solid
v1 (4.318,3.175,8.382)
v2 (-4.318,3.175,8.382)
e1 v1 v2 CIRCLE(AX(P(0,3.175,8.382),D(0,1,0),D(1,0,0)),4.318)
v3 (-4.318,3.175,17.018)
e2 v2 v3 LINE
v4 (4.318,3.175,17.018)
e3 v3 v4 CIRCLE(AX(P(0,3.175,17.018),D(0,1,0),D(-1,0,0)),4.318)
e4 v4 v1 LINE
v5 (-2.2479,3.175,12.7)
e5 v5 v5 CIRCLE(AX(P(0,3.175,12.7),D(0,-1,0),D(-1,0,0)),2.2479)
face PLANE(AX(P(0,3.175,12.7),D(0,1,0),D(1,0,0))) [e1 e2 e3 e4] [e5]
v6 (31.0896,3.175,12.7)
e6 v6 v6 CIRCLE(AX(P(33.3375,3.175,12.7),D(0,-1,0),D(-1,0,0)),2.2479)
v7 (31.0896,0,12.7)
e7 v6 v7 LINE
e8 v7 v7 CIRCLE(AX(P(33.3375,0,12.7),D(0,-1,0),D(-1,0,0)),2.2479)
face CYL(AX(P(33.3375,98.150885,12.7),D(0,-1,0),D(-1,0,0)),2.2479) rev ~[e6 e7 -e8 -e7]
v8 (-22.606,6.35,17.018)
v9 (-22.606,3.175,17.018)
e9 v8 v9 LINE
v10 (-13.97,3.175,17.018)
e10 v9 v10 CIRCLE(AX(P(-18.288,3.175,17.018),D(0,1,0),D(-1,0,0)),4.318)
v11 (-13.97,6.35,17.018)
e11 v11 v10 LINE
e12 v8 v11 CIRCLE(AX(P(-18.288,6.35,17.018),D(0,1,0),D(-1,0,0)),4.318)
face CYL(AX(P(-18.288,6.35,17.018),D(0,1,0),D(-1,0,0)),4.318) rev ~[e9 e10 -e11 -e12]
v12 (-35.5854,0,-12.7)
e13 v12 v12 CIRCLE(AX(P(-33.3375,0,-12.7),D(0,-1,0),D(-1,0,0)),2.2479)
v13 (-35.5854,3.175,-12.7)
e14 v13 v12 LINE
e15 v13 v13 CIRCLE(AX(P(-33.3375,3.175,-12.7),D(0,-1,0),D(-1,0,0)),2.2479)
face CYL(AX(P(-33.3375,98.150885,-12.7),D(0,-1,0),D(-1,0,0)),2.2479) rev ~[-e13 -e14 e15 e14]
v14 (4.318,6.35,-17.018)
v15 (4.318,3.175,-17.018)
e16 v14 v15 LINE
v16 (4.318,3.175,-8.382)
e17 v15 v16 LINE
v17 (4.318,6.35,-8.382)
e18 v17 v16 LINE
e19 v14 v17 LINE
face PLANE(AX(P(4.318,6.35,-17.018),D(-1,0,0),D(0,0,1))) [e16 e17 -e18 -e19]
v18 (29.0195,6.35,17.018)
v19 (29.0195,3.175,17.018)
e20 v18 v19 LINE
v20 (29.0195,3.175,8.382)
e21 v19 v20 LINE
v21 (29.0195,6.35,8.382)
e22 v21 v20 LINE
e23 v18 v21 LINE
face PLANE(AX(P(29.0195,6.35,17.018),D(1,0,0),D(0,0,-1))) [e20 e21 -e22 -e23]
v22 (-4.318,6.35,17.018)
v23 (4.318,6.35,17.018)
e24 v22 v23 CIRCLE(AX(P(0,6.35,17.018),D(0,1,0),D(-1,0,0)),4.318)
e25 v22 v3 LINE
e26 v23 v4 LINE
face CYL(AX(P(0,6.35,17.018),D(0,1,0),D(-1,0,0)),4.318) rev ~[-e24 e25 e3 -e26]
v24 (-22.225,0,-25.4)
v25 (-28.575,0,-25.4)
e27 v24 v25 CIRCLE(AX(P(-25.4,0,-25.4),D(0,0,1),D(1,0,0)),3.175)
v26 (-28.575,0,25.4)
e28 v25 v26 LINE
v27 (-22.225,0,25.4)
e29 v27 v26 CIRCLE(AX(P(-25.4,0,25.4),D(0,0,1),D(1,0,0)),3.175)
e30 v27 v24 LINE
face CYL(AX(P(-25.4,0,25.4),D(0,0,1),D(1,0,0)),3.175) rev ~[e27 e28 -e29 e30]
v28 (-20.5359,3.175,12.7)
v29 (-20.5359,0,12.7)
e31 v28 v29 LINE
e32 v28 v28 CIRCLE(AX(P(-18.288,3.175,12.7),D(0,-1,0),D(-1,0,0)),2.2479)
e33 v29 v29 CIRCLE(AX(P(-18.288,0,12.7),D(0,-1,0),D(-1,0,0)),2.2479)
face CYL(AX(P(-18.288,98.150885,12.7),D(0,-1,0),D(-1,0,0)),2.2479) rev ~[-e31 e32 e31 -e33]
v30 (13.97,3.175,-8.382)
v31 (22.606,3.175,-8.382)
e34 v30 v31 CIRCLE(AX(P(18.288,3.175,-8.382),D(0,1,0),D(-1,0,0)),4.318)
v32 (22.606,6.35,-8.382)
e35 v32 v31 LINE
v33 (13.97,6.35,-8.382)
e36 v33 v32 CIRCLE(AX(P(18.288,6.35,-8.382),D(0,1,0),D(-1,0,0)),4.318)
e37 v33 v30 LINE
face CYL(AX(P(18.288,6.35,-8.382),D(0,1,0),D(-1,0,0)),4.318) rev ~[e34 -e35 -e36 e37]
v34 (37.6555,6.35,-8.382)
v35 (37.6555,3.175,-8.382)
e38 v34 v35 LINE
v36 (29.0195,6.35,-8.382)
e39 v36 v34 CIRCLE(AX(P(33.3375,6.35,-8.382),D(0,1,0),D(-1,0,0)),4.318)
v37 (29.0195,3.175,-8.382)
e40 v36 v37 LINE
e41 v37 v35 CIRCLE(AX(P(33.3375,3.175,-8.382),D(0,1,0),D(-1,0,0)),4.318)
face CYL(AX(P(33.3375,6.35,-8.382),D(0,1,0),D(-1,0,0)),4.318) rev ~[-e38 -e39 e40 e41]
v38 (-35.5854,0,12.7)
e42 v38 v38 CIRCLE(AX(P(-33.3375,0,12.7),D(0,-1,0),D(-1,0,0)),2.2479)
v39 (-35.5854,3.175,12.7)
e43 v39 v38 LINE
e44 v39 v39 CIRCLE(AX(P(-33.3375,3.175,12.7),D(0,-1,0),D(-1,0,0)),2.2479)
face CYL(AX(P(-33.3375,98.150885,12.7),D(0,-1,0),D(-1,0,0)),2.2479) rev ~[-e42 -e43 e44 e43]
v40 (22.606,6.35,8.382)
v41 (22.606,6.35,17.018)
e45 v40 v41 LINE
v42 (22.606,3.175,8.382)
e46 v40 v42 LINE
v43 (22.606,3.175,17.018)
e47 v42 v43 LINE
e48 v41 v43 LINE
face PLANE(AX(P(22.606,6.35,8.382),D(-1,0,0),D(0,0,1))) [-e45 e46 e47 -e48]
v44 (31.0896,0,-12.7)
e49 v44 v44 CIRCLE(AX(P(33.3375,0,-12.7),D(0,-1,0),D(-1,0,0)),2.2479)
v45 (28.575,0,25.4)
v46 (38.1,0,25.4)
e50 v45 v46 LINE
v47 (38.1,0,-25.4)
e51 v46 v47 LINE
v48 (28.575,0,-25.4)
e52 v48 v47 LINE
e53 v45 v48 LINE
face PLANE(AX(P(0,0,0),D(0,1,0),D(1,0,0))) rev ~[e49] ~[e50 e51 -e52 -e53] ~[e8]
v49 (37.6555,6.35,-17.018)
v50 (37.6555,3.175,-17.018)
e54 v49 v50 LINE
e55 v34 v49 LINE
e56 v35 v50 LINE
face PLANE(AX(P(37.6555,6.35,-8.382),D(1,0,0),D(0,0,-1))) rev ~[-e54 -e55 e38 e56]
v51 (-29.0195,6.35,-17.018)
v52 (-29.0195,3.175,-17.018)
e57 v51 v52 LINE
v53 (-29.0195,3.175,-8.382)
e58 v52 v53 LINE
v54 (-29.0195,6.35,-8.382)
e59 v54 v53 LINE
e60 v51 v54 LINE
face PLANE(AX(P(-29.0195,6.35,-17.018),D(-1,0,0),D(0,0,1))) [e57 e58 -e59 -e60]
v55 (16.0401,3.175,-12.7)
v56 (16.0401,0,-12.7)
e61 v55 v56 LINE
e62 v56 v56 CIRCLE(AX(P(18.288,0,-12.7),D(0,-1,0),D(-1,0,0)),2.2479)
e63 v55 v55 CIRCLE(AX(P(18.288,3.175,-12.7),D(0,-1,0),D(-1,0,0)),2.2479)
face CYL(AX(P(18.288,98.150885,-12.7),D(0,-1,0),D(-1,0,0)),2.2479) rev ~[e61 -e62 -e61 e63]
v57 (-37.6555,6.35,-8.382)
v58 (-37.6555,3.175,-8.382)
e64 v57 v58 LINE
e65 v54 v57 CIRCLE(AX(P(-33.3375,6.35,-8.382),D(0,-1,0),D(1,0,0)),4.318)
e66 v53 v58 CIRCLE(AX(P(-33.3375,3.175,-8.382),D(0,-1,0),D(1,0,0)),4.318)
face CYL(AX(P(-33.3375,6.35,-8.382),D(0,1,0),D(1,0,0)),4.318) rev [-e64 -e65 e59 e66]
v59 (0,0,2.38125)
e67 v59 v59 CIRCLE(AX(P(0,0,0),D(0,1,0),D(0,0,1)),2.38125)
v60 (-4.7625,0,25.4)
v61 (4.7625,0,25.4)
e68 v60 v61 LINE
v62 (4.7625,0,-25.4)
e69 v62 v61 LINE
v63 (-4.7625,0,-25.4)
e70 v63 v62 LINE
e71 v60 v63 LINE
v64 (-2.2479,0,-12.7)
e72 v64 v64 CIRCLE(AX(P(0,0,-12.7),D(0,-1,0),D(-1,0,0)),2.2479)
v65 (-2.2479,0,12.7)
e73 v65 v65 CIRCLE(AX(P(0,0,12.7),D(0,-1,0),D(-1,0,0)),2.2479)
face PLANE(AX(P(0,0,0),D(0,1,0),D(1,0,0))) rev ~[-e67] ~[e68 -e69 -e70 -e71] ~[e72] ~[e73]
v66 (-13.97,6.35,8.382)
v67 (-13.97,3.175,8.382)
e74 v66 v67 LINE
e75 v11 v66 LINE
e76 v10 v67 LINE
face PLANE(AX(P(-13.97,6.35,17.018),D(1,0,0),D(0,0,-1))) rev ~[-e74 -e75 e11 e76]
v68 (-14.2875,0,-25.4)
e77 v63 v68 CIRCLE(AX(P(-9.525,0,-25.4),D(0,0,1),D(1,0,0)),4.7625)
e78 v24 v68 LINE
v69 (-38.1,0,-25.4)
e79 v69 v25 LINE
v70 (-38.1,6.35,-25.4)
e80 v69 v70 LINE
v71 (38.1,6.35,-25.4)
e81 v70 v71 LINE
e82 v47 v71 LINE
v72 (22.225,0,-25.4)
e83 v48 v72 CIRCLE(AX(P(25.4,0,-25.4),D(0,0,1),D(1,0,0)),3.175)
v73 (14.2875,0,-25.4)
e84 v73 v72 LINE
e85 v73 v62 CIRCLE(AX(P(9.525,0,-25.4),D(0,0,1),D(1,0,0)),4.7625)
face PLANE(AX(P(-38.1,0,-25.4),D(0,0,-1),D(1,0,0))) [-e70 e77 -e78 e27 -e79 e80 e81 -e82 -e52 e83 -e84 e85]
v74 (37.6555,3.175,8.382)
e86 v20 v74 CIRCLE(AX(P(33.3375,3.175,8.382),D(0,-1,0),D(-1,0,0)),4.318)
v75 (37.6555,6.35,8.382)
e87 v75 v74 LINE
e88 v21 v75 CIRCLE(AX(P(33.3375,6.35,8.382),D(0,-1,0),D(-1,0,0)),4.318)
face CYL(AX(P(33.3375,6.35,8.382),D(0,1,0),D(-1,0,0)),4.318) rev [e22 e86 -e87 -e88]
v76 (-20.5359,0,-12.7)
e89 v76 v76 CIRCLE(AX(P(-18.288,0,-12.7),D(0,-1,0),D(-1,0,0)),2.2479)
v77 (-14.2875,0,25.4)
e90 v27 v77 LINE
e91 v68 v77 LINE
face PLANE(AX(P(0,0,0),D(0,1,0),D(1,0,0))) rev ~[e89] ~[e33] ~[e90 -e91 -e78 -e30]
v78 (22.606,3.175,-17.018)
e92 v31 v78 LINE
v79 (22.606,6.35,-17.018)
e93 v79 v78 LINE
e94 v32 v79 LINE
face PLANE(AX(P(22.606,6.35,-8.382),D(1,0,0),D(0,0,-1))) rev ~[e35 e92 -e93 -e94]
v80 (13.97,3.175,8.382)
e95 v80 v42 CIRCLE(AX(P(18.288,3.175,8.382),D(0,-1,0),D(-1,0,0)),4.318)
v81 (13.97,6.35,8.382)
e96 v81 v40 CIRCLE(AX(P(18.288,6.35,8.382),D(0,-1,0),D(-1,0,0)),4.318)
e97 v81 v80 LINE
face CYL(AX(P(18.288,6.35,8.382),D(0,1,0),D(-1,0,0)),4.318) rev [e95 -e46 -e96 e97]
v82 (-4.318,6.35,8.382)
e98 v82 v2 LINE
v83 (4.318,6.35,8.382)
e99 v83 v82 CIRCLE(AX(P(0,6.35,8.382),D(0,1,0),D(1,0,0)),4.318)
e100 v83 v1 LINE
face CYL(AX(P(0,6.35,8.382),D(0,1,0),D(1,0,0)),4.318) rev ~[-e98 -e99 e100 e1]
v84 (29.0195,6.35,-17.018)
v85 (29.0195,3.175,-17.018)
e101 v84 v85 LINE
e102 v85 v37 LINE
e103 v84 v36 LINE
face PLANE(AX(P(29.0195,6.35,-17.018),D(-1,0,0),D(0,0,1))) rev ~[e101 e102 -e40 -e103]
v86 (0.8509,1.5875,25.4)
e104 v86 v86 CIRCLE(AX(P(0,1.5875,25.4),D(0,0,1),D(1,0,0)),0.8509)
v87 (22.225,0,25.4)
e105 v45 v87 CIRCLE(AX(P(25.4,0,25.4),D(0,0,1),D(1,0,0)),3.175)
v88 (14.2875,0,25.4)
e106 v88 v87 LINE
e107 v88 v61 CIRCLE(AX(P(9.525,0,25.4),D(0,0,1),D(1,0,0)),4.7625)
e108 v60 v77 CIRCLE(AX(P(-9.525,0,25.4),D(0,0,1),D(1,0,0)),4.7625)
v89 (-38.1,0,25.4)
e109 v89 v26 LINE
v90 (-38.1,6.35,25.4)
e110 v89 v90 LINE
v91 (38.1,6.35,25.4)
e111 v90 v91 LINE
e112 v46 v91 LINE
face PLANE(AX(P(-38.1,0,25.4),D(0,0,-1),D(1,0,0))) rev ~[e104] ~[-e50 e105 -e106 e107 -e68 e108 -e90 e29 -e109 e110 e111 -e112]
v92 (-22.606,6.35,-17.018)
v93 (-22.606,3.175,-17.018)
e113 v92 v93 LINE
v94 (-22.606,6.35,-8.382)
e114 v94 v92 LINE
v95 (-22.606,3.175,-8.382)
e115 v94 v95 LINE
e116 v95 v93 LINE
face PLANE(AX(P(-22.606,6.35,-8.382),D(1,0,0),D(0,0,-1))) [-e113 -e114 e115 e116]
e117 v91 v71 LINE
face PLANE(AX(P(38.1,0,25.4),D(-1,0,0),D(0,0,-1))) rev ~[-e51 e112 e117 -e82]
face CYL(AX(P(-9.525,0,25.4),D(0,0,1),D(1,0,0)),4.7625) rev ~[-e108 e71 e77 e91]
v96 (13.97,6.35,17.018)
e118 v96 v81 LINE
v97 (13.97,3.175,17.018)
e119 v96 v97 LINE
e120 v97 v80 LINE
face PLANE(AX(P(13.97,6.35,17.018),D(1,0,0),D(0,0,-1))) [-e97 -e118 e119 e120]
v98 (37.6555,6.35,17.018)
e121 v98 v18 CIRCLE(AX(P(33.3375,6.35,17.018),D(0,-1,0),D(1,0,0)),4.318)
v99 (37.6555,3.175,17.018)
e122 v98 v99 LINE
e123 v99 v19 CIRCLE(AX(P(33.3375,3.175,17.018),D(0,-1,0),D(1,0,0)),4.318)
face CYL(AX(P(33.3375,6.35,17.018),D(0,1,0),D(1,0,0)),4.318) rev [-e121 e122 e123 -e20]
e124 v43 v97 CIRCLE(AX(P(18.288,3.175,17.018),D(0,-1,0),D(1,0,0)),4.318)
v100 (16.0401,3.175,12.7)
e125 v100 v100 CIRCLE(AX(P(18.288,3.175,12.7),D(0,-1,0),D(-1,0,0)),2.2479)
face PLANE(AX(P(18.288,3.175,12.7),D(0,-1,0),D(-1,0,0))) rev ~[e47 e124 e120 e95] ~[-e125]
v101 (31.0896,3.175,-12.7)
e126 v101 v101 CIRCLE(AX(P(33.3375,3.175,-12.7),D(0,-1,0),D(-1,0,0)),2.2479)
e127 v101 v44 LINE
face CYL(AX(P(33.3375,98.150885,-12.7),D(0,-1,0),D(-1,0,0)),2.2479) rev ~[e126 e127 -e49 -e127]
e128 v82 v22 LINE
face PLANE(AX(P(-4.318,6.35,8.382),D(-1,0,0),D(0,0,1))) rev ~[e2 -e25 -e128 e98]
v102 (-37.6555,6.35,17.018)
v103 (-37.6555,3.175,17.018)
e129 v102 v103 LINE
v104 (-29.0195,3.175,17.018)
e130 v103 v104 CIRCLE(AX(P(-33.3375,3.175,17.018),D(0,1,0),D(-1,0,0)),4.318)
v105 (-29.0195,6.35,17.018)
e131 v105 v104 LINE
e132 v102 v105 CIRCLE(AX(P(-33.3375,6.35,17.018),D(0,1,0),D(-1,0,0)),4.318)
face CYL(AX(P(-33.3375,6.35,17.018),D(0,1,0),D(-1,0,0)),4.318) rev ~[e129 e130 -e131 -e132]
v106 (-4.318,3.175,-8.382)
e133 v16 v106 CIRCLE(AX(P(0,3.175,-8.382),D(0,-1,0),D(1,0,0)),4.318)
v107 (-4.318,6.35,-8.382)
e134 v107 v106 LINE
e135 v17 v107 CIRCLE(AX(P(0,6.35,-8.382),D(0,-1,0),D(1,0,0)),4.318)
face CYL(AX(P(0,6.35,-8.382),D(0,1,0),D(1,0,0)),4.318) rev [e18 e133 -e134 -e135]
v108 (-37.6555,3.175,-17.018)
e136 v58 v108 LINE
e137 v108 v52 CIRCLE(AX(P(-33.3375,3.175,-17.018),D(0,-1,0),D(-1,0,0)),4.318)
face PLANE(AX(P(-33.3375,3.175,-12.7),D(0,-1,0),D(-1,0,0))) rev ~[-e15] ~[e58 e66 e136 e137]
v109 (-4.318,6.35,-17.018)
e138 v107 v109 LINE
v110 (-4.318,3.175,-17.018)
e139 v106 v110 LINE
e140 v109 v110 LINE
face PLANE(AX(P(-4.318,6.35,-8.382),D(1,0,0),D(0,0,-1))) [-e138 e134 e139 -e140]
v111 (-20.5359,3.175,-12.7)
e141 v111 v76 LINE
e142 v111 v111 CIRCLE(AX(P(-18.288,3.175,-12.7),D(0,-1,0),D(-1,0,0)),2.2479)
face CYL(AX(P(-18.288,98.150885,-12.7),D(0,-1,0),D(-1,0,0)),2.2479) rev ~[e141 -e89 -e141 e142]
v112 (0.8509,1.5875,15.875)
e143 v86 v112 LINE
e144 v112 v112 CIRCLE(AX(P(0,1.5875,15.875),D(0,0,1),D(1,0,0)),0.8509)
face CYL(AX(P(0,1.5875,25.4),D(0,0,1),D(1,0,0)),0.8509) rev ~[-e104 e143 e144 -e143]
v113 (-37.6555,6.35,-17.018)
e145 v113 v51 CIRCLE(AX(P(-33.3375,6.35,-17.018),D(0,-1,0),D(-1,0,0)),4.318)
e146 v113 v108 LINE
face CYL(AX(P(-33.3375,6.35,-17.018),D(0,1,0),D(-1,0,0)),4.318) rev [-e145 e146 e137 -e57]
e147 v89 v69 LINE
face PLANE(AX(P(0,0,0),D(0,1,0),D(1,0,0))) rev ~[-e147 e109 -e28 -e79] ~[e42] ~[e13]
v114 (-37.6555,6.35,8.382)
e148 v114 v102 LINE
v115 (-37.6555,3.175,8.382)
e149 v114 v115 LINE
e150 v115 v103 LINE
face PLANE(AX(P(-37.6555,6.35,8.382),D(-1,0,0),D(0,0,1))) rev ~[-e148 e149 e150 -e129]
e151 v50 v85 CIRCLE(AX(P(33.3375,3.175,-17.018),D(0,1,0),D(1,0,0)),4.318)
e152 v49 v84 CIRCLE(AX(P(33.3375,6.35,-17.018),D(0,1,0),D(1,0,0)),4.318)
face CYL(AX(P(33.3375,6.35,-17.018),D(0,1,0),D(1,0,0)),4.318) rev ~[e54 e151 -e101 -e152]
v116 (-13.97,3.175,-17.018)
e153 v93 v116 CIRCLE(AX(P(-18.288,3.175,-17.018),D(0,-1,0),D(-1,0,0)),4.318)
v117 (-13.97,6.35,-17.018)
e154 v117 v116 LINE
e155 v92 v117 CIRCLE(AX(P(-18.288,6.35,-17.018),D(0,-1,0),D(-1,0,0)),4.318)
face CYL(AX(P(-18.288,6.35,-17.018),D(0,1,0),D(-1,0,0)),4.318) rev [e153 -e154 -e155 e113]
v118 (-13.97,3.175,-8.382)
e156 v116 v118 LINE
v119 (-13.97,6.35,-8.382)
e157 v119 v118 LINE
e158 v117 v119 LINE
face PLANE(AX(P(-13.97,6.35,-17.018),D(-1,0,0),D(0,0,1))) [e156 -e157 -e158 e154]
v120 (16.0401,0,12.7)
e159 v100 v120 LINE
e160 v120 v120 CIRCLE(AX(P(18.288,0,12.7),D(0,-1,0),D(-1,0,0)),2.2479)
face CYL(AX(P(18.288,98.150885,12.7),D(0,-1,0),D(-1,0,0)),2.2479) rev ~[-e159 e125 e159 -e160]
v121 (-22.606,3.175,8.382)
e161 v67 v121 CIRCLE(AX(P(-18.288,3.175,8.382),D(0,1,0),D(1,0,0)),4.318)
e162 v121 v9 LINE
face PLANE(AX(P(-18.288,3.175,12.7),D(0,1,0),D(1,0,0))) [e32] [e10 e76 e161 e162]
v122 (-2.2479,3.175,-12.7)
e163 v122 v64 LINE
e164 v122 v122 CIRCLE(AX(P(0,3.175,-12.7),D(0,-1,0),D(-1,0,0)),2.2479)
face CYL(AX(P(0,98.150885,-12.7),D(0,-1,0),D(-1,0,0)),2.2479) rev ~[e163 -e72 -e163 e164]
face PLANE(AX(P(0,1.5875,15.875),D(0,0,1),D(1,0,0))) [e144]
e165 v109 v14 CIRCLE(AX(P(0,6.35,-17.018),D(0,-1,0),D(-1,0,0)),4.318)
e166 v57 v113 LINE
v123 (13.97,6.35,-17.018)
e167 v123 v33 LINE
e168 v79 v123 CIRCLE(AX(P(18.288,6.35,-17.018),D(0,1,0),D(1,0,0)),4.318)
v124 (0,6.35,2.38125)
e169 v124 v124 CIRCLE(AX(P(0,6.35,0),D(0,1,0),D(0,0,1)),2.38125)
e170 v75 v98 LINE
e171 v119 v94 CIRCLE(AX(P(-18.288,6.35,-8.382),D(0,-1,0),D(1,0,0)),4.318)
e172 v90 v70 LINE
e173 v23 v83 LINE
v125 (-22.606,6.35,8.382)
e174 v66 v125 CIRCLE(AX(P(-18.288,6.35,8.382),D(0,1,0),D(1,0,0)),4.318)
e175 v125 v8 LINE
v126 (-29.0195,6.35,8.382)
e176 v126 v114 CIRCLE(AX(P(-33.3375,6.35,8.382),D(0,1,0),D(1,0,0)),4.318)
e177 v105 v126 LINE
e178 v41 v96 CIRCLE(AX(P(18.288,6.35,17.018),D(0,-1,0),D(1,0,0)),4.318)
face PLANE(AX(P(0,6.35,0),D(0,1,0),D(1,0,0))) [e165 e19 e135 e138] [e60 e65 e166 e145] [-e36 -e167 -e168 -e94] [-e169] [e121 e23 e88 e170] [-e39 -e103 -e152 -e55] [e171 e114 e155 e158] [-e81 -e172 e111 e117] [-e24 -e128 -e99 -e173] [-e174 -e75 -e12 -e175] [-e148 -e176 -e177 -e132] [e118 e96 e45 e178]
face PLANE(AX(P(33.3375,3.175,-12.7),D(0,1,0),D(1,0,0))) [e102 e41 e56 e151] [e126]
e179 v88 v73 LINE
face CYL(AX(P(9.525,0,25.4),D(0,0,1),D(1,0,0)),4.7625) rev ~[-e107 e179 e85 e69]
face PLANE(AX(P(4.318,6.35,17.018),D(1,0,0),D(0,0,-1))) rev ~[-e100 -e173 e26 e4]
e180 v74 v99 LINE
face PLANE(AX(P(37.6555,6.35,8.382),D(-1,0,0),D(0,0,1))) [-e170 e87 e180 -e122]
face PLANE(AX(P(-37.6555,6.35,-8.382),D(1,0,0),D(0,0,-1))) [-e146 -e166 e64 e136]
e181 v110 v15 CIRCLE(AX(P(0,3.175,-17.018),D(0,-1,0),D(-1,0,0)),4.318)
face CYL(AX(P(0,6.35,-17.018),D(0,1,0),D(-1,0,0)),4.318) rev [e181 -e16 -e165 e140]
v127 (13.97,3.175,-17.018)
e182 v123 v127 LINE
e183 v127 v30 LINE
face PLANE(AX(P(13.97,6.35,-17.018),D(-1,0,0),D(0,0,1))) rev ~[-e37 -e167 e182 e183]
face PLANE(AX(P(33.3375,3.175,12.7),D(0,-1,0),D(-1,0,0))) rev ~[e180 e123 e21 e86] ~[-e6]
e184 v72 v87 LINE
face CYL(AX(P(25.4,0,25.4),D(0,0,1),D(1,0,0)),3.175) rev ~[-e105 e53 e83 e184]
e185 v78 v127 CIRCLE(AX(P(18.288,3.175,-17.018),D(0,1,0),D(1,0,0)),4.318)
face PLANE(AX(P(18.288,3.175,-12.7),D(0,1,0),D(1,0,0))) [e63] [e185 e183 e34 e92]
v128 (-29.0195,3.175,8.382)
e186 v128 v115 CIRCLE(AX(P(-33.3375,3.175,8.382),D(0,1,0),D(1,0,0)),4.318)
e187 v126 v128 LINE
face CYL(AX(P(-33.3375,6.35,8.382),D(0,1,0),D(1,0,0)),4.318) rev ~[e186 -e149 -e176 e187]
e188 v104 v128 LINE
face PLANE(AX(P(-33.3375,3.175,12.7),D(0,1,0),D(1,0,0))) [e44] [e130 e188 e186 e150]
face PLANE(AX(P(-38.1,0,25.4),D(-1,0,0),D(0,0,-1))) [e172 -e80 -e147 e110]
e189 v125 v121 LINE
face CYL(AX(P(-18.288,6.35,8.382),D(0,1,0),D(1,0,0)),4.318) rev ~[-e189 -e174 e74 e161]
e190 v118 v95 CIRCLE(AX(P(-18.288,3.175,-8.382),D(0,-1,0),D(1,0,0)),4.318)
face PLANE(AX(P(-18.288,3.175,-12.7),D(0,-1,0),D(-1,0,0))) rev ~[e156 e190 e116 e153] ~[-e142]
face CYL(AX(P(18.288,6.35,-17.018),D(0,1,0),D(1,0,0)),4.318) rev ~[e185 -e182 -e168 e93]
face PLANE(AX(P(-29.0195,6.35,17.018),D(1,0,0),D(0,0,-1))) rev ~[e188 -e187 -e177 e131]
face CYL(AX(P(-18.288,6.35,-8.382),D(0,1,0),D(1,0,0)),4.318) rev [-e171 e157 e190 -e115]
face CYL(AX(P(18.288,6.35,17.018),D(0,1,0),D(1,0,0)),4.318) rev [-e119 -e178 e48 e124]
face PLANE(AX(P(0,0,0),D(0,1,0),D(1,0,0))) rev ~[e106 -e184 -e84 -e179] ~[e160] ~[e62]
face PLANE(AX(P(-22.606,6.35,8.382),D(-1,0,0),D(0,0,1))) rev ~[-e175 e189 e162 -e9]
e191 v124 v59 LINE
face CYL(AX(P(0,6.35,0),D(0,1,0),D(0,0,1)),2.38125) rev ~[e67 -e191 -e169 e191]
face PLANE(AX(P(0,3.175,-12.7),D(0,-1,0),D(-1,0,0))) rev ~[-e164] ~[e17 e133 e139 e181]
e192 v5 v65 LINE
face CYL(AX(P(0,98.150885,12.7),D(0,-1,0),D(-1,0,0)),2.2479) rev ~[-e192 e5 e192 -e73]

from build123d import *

# Parameters (mm, degrees)
SKETCH1_W             = 76.2
SKETCH1_H             = 50.8
BOSS_EXTRUDE1_DEPTH   = 6.35
SKETCH2_R             = 3.175
CUT_EXTRUDE1_DEPTH    = 64.816710194
SKETCH3_R             = 4.7625
CUT_EXTRUDE2_DEPTH    = 64.816710194
F_8_CLEARANCE_HOLE1_D = 4.4958
CUT_EXTRUDE3_DEPTH    = 3.175
SKETCH7_R             = 2.38125
CUT_EXTRUDE4_DEPTH    = 47.228697797
SKETCH8_R             = 0.8509
CUT_EXTRUDE5_DEPTH    = 9.525


with BuildPart() as part:
    # Sketch1 → Boss-Extrude1 (new body)
    with BuildSketch(Plane(origin=(0, 0, 0), x_dir=(1, 0, 0), z_dir=(0, 1, 0))):
        Rectangle(SKETCH1_W, SKETCH1_H)
    extrude(amount=BOSS_EXTRUDE1_DEPTH)

    # Sketch2 → Cut-Extrude1 (cut, through all)
    with BuildSketch(Plane.XY.offset(25.4)):
        with Locations((-25.4, 0)):
            Circle(SKETCH2_R)
        with Locations((25.4, 0)):
            Circle(SKETCH2_R)
    extrude(amount=-CUT_EXTRUDE1_DEPTH, mode=Mode.SUBTRACT)

    # Sketch3 → Cut-Extrude2 (cut, through all)
    with BuildSketch(Plane.XY.offset(25.4)):
        with Locations((-9.525, 0)):
            Circle(SKETCH3_R)
        with Locations((9.525, 0)):
            Circle(SKETCH3_R)
    extrude(amount=-CUT_EXTRUDE2_DEPTH, mode=Mode.SUBTRACT)

    # #8 Clearance Hole1 (through all)
    with Locations(Plane(origin=(0, 6.35, 0), x_dir=(1, 0, 0), z_dir=(0, 1, 0))):
        with Locations((-33.3375, 12.7), (-33.3375, -12.7), (-18.288, -12.7), (0, -12.7), (18.288, -12.7), (33.3375, -12.7), (33.3375, 12.7), (18.288, 12.7), (0, 12.7), (-18.288, 12.7)):
            Hole(F_8_CLEARANCE_HOLE1_D / 2)

    # Sketch6 → Cut-Extrude3 (cut)
    with BuildSketch(Plane(origin=(0, 6.35, 0), x_dir=(1, 0, 0), z_dir=(0, 1, 0))):
        with BuildLine():
            Line((-13.97, 17.018), (-13.97, 8.382))
            ThreePointArc((-13.97, 8.382), (-18.288, 4.064), (-22.606, 8.382))
            Line((-22.606, 8.382), (-22.606, 17.018))
            ThreePointArc((-22.606, 17.018), (-18.288, 21.336), (-13.97, 17.018))
        make_face()
        with BuildLine():
            Line((13.97, 17.018), (13.97, 8.382))
            ThreePointArc((13.97, 8.382), (18.288, 4.064), (22.606, 8.382))
            Line((22.606, 8.382), (22.606, 17.018))
            ThreePointArc((22.606, 17.018), (18.288, 21.336), (13.97, 17.018))
        make_face()
        with BuildLine():
            Line((13.97, -17.018), (13.97, -8.382))
            ThreePointArc((13.97, -8.382), (18.288, -4.064), (22.606, -8.382))
            Line((22.606, -8.382), (22.606, -17.018))
            ThreePointArc((22.606, -17.018), (18.288, -21.336), (13.97, -17.018))
        make_face()
        with BuildLine():
            Line((-13.97, -17.018), (-13.97, -8.382))
            ThreePointArc((-13.97, -8.382), (-18.288, -4.064), (-22.606, -8.382))
            Line((-22.606, -8.382), (-22.606, -17.018))
            ThreePointArc((-22.606, -17.018), (-18.288, -21.336), (-13.97, -17.018))
        make_face()
        with BuildLine():
            Line((4.318, 17.018), (4.318, 8.382))
            ThreePointArc((4.318, 8.382), (0, 4.064), (-4.318, 8.382))
            Line((-4.318, 8.382), (-4.318, 17.018))
            ThreePointArc((-4.318, 17.018), (0, 21.336), (4.318, 17.018))
        make_face()
        with BuildLine():
            Line((4.318, -17.018), (4.318, -8.382))
            ThreePointArc((4.318, -8.382), (0, -4.064), (-4.318, -8.382))
            Line((-4.318, -8.382), (-4.318, -17.018))
            ThreePointArc((-4.318, -17.018), (0, -21.336), (4.318, -17.018))
        make_face()
        with BuildLine():
            Line((-29.0195, 17.018), (-29.0195, 8.382))
            ThreePointArc((-29.0195, 8.382), (-33.3375, 4.064), (-37.6555, 8.382))
            Line((-37.6555, 8.382), (-37.6555, 17.018))
            ThreePointArc((-37.6555, 17.018), (-33.3375, 21.336), (-29.0195, 17.018))
        make_face()
        with BuildLine():
            Line((-29.0195, -17.018), (-29.0195, -8.382))
            ThreePointArc((-29.0195, -8.382), (-33.3375, -4.064), (-37.6555, -8.382))
            Line((-37.6555, -8.382), (-37.6555, -17.018))
            ThreePointArc((-37.6555, -17.018), (-33.3375, -21.336), (-29.0195, -17.018))
        make_face()
        with BuildLine():
            Line((29.0195, 17.018), (29.0195, 8.382))
            ThreePointArc((29.0195, 8.382), (33.3375, 4.064), (37.6555, 8.382))
            Line((37.6555, 8.382), (37.6555, 17.018))
            ThreePointArc((37.6555, 17.018), (33.3375, 21.336), (29.0195, 17.018))
        make_face()
        with BuildLine():
            Line((29.0195, -17.018), (29.0195, -8.382))
            ThreePointArc((29.0195, -8.382), (33.3375, -4.064), (37.6555, -8.382))
            Line((37.6555, -8.382), (37.6555, -17.018))
            ThreePointArc((37.6555, -17.018), (33.3375, -21.336), (29.0195, -17.018))
        make_face()
    extrude(amount=-CUT_EXTRUDE3_DEPTH, mode=Mode.SUBTRACT)

    # Sketch7 → Cut-Extrude4 (cut, through all)
    with BuildSketch(Plane(origin=(0, 6.35, 0), x_dir=(1, 0, 0), z_dir=(0, 1, 0))):
        with Locations(Location((0, 0, 0), (0, 0, 270))):
            Circle(SKETCH7_R)
    extrude(amount=-CUT_EXTRUDE4_DEPTH, mode=Mode.SUBTRACT)

    # Sketch8 → Cut-Extrude5 (cut)
    with BuildSketch(Plane.XY.offset(25.4)):
        with Locations((0, 1.5875)):
            Circle(SKETCH8_R)
    extrude(amount=-CUT_EXTRUDE5_DEPTH, mode=Mode.SUBTRACT)


solid = part.part
